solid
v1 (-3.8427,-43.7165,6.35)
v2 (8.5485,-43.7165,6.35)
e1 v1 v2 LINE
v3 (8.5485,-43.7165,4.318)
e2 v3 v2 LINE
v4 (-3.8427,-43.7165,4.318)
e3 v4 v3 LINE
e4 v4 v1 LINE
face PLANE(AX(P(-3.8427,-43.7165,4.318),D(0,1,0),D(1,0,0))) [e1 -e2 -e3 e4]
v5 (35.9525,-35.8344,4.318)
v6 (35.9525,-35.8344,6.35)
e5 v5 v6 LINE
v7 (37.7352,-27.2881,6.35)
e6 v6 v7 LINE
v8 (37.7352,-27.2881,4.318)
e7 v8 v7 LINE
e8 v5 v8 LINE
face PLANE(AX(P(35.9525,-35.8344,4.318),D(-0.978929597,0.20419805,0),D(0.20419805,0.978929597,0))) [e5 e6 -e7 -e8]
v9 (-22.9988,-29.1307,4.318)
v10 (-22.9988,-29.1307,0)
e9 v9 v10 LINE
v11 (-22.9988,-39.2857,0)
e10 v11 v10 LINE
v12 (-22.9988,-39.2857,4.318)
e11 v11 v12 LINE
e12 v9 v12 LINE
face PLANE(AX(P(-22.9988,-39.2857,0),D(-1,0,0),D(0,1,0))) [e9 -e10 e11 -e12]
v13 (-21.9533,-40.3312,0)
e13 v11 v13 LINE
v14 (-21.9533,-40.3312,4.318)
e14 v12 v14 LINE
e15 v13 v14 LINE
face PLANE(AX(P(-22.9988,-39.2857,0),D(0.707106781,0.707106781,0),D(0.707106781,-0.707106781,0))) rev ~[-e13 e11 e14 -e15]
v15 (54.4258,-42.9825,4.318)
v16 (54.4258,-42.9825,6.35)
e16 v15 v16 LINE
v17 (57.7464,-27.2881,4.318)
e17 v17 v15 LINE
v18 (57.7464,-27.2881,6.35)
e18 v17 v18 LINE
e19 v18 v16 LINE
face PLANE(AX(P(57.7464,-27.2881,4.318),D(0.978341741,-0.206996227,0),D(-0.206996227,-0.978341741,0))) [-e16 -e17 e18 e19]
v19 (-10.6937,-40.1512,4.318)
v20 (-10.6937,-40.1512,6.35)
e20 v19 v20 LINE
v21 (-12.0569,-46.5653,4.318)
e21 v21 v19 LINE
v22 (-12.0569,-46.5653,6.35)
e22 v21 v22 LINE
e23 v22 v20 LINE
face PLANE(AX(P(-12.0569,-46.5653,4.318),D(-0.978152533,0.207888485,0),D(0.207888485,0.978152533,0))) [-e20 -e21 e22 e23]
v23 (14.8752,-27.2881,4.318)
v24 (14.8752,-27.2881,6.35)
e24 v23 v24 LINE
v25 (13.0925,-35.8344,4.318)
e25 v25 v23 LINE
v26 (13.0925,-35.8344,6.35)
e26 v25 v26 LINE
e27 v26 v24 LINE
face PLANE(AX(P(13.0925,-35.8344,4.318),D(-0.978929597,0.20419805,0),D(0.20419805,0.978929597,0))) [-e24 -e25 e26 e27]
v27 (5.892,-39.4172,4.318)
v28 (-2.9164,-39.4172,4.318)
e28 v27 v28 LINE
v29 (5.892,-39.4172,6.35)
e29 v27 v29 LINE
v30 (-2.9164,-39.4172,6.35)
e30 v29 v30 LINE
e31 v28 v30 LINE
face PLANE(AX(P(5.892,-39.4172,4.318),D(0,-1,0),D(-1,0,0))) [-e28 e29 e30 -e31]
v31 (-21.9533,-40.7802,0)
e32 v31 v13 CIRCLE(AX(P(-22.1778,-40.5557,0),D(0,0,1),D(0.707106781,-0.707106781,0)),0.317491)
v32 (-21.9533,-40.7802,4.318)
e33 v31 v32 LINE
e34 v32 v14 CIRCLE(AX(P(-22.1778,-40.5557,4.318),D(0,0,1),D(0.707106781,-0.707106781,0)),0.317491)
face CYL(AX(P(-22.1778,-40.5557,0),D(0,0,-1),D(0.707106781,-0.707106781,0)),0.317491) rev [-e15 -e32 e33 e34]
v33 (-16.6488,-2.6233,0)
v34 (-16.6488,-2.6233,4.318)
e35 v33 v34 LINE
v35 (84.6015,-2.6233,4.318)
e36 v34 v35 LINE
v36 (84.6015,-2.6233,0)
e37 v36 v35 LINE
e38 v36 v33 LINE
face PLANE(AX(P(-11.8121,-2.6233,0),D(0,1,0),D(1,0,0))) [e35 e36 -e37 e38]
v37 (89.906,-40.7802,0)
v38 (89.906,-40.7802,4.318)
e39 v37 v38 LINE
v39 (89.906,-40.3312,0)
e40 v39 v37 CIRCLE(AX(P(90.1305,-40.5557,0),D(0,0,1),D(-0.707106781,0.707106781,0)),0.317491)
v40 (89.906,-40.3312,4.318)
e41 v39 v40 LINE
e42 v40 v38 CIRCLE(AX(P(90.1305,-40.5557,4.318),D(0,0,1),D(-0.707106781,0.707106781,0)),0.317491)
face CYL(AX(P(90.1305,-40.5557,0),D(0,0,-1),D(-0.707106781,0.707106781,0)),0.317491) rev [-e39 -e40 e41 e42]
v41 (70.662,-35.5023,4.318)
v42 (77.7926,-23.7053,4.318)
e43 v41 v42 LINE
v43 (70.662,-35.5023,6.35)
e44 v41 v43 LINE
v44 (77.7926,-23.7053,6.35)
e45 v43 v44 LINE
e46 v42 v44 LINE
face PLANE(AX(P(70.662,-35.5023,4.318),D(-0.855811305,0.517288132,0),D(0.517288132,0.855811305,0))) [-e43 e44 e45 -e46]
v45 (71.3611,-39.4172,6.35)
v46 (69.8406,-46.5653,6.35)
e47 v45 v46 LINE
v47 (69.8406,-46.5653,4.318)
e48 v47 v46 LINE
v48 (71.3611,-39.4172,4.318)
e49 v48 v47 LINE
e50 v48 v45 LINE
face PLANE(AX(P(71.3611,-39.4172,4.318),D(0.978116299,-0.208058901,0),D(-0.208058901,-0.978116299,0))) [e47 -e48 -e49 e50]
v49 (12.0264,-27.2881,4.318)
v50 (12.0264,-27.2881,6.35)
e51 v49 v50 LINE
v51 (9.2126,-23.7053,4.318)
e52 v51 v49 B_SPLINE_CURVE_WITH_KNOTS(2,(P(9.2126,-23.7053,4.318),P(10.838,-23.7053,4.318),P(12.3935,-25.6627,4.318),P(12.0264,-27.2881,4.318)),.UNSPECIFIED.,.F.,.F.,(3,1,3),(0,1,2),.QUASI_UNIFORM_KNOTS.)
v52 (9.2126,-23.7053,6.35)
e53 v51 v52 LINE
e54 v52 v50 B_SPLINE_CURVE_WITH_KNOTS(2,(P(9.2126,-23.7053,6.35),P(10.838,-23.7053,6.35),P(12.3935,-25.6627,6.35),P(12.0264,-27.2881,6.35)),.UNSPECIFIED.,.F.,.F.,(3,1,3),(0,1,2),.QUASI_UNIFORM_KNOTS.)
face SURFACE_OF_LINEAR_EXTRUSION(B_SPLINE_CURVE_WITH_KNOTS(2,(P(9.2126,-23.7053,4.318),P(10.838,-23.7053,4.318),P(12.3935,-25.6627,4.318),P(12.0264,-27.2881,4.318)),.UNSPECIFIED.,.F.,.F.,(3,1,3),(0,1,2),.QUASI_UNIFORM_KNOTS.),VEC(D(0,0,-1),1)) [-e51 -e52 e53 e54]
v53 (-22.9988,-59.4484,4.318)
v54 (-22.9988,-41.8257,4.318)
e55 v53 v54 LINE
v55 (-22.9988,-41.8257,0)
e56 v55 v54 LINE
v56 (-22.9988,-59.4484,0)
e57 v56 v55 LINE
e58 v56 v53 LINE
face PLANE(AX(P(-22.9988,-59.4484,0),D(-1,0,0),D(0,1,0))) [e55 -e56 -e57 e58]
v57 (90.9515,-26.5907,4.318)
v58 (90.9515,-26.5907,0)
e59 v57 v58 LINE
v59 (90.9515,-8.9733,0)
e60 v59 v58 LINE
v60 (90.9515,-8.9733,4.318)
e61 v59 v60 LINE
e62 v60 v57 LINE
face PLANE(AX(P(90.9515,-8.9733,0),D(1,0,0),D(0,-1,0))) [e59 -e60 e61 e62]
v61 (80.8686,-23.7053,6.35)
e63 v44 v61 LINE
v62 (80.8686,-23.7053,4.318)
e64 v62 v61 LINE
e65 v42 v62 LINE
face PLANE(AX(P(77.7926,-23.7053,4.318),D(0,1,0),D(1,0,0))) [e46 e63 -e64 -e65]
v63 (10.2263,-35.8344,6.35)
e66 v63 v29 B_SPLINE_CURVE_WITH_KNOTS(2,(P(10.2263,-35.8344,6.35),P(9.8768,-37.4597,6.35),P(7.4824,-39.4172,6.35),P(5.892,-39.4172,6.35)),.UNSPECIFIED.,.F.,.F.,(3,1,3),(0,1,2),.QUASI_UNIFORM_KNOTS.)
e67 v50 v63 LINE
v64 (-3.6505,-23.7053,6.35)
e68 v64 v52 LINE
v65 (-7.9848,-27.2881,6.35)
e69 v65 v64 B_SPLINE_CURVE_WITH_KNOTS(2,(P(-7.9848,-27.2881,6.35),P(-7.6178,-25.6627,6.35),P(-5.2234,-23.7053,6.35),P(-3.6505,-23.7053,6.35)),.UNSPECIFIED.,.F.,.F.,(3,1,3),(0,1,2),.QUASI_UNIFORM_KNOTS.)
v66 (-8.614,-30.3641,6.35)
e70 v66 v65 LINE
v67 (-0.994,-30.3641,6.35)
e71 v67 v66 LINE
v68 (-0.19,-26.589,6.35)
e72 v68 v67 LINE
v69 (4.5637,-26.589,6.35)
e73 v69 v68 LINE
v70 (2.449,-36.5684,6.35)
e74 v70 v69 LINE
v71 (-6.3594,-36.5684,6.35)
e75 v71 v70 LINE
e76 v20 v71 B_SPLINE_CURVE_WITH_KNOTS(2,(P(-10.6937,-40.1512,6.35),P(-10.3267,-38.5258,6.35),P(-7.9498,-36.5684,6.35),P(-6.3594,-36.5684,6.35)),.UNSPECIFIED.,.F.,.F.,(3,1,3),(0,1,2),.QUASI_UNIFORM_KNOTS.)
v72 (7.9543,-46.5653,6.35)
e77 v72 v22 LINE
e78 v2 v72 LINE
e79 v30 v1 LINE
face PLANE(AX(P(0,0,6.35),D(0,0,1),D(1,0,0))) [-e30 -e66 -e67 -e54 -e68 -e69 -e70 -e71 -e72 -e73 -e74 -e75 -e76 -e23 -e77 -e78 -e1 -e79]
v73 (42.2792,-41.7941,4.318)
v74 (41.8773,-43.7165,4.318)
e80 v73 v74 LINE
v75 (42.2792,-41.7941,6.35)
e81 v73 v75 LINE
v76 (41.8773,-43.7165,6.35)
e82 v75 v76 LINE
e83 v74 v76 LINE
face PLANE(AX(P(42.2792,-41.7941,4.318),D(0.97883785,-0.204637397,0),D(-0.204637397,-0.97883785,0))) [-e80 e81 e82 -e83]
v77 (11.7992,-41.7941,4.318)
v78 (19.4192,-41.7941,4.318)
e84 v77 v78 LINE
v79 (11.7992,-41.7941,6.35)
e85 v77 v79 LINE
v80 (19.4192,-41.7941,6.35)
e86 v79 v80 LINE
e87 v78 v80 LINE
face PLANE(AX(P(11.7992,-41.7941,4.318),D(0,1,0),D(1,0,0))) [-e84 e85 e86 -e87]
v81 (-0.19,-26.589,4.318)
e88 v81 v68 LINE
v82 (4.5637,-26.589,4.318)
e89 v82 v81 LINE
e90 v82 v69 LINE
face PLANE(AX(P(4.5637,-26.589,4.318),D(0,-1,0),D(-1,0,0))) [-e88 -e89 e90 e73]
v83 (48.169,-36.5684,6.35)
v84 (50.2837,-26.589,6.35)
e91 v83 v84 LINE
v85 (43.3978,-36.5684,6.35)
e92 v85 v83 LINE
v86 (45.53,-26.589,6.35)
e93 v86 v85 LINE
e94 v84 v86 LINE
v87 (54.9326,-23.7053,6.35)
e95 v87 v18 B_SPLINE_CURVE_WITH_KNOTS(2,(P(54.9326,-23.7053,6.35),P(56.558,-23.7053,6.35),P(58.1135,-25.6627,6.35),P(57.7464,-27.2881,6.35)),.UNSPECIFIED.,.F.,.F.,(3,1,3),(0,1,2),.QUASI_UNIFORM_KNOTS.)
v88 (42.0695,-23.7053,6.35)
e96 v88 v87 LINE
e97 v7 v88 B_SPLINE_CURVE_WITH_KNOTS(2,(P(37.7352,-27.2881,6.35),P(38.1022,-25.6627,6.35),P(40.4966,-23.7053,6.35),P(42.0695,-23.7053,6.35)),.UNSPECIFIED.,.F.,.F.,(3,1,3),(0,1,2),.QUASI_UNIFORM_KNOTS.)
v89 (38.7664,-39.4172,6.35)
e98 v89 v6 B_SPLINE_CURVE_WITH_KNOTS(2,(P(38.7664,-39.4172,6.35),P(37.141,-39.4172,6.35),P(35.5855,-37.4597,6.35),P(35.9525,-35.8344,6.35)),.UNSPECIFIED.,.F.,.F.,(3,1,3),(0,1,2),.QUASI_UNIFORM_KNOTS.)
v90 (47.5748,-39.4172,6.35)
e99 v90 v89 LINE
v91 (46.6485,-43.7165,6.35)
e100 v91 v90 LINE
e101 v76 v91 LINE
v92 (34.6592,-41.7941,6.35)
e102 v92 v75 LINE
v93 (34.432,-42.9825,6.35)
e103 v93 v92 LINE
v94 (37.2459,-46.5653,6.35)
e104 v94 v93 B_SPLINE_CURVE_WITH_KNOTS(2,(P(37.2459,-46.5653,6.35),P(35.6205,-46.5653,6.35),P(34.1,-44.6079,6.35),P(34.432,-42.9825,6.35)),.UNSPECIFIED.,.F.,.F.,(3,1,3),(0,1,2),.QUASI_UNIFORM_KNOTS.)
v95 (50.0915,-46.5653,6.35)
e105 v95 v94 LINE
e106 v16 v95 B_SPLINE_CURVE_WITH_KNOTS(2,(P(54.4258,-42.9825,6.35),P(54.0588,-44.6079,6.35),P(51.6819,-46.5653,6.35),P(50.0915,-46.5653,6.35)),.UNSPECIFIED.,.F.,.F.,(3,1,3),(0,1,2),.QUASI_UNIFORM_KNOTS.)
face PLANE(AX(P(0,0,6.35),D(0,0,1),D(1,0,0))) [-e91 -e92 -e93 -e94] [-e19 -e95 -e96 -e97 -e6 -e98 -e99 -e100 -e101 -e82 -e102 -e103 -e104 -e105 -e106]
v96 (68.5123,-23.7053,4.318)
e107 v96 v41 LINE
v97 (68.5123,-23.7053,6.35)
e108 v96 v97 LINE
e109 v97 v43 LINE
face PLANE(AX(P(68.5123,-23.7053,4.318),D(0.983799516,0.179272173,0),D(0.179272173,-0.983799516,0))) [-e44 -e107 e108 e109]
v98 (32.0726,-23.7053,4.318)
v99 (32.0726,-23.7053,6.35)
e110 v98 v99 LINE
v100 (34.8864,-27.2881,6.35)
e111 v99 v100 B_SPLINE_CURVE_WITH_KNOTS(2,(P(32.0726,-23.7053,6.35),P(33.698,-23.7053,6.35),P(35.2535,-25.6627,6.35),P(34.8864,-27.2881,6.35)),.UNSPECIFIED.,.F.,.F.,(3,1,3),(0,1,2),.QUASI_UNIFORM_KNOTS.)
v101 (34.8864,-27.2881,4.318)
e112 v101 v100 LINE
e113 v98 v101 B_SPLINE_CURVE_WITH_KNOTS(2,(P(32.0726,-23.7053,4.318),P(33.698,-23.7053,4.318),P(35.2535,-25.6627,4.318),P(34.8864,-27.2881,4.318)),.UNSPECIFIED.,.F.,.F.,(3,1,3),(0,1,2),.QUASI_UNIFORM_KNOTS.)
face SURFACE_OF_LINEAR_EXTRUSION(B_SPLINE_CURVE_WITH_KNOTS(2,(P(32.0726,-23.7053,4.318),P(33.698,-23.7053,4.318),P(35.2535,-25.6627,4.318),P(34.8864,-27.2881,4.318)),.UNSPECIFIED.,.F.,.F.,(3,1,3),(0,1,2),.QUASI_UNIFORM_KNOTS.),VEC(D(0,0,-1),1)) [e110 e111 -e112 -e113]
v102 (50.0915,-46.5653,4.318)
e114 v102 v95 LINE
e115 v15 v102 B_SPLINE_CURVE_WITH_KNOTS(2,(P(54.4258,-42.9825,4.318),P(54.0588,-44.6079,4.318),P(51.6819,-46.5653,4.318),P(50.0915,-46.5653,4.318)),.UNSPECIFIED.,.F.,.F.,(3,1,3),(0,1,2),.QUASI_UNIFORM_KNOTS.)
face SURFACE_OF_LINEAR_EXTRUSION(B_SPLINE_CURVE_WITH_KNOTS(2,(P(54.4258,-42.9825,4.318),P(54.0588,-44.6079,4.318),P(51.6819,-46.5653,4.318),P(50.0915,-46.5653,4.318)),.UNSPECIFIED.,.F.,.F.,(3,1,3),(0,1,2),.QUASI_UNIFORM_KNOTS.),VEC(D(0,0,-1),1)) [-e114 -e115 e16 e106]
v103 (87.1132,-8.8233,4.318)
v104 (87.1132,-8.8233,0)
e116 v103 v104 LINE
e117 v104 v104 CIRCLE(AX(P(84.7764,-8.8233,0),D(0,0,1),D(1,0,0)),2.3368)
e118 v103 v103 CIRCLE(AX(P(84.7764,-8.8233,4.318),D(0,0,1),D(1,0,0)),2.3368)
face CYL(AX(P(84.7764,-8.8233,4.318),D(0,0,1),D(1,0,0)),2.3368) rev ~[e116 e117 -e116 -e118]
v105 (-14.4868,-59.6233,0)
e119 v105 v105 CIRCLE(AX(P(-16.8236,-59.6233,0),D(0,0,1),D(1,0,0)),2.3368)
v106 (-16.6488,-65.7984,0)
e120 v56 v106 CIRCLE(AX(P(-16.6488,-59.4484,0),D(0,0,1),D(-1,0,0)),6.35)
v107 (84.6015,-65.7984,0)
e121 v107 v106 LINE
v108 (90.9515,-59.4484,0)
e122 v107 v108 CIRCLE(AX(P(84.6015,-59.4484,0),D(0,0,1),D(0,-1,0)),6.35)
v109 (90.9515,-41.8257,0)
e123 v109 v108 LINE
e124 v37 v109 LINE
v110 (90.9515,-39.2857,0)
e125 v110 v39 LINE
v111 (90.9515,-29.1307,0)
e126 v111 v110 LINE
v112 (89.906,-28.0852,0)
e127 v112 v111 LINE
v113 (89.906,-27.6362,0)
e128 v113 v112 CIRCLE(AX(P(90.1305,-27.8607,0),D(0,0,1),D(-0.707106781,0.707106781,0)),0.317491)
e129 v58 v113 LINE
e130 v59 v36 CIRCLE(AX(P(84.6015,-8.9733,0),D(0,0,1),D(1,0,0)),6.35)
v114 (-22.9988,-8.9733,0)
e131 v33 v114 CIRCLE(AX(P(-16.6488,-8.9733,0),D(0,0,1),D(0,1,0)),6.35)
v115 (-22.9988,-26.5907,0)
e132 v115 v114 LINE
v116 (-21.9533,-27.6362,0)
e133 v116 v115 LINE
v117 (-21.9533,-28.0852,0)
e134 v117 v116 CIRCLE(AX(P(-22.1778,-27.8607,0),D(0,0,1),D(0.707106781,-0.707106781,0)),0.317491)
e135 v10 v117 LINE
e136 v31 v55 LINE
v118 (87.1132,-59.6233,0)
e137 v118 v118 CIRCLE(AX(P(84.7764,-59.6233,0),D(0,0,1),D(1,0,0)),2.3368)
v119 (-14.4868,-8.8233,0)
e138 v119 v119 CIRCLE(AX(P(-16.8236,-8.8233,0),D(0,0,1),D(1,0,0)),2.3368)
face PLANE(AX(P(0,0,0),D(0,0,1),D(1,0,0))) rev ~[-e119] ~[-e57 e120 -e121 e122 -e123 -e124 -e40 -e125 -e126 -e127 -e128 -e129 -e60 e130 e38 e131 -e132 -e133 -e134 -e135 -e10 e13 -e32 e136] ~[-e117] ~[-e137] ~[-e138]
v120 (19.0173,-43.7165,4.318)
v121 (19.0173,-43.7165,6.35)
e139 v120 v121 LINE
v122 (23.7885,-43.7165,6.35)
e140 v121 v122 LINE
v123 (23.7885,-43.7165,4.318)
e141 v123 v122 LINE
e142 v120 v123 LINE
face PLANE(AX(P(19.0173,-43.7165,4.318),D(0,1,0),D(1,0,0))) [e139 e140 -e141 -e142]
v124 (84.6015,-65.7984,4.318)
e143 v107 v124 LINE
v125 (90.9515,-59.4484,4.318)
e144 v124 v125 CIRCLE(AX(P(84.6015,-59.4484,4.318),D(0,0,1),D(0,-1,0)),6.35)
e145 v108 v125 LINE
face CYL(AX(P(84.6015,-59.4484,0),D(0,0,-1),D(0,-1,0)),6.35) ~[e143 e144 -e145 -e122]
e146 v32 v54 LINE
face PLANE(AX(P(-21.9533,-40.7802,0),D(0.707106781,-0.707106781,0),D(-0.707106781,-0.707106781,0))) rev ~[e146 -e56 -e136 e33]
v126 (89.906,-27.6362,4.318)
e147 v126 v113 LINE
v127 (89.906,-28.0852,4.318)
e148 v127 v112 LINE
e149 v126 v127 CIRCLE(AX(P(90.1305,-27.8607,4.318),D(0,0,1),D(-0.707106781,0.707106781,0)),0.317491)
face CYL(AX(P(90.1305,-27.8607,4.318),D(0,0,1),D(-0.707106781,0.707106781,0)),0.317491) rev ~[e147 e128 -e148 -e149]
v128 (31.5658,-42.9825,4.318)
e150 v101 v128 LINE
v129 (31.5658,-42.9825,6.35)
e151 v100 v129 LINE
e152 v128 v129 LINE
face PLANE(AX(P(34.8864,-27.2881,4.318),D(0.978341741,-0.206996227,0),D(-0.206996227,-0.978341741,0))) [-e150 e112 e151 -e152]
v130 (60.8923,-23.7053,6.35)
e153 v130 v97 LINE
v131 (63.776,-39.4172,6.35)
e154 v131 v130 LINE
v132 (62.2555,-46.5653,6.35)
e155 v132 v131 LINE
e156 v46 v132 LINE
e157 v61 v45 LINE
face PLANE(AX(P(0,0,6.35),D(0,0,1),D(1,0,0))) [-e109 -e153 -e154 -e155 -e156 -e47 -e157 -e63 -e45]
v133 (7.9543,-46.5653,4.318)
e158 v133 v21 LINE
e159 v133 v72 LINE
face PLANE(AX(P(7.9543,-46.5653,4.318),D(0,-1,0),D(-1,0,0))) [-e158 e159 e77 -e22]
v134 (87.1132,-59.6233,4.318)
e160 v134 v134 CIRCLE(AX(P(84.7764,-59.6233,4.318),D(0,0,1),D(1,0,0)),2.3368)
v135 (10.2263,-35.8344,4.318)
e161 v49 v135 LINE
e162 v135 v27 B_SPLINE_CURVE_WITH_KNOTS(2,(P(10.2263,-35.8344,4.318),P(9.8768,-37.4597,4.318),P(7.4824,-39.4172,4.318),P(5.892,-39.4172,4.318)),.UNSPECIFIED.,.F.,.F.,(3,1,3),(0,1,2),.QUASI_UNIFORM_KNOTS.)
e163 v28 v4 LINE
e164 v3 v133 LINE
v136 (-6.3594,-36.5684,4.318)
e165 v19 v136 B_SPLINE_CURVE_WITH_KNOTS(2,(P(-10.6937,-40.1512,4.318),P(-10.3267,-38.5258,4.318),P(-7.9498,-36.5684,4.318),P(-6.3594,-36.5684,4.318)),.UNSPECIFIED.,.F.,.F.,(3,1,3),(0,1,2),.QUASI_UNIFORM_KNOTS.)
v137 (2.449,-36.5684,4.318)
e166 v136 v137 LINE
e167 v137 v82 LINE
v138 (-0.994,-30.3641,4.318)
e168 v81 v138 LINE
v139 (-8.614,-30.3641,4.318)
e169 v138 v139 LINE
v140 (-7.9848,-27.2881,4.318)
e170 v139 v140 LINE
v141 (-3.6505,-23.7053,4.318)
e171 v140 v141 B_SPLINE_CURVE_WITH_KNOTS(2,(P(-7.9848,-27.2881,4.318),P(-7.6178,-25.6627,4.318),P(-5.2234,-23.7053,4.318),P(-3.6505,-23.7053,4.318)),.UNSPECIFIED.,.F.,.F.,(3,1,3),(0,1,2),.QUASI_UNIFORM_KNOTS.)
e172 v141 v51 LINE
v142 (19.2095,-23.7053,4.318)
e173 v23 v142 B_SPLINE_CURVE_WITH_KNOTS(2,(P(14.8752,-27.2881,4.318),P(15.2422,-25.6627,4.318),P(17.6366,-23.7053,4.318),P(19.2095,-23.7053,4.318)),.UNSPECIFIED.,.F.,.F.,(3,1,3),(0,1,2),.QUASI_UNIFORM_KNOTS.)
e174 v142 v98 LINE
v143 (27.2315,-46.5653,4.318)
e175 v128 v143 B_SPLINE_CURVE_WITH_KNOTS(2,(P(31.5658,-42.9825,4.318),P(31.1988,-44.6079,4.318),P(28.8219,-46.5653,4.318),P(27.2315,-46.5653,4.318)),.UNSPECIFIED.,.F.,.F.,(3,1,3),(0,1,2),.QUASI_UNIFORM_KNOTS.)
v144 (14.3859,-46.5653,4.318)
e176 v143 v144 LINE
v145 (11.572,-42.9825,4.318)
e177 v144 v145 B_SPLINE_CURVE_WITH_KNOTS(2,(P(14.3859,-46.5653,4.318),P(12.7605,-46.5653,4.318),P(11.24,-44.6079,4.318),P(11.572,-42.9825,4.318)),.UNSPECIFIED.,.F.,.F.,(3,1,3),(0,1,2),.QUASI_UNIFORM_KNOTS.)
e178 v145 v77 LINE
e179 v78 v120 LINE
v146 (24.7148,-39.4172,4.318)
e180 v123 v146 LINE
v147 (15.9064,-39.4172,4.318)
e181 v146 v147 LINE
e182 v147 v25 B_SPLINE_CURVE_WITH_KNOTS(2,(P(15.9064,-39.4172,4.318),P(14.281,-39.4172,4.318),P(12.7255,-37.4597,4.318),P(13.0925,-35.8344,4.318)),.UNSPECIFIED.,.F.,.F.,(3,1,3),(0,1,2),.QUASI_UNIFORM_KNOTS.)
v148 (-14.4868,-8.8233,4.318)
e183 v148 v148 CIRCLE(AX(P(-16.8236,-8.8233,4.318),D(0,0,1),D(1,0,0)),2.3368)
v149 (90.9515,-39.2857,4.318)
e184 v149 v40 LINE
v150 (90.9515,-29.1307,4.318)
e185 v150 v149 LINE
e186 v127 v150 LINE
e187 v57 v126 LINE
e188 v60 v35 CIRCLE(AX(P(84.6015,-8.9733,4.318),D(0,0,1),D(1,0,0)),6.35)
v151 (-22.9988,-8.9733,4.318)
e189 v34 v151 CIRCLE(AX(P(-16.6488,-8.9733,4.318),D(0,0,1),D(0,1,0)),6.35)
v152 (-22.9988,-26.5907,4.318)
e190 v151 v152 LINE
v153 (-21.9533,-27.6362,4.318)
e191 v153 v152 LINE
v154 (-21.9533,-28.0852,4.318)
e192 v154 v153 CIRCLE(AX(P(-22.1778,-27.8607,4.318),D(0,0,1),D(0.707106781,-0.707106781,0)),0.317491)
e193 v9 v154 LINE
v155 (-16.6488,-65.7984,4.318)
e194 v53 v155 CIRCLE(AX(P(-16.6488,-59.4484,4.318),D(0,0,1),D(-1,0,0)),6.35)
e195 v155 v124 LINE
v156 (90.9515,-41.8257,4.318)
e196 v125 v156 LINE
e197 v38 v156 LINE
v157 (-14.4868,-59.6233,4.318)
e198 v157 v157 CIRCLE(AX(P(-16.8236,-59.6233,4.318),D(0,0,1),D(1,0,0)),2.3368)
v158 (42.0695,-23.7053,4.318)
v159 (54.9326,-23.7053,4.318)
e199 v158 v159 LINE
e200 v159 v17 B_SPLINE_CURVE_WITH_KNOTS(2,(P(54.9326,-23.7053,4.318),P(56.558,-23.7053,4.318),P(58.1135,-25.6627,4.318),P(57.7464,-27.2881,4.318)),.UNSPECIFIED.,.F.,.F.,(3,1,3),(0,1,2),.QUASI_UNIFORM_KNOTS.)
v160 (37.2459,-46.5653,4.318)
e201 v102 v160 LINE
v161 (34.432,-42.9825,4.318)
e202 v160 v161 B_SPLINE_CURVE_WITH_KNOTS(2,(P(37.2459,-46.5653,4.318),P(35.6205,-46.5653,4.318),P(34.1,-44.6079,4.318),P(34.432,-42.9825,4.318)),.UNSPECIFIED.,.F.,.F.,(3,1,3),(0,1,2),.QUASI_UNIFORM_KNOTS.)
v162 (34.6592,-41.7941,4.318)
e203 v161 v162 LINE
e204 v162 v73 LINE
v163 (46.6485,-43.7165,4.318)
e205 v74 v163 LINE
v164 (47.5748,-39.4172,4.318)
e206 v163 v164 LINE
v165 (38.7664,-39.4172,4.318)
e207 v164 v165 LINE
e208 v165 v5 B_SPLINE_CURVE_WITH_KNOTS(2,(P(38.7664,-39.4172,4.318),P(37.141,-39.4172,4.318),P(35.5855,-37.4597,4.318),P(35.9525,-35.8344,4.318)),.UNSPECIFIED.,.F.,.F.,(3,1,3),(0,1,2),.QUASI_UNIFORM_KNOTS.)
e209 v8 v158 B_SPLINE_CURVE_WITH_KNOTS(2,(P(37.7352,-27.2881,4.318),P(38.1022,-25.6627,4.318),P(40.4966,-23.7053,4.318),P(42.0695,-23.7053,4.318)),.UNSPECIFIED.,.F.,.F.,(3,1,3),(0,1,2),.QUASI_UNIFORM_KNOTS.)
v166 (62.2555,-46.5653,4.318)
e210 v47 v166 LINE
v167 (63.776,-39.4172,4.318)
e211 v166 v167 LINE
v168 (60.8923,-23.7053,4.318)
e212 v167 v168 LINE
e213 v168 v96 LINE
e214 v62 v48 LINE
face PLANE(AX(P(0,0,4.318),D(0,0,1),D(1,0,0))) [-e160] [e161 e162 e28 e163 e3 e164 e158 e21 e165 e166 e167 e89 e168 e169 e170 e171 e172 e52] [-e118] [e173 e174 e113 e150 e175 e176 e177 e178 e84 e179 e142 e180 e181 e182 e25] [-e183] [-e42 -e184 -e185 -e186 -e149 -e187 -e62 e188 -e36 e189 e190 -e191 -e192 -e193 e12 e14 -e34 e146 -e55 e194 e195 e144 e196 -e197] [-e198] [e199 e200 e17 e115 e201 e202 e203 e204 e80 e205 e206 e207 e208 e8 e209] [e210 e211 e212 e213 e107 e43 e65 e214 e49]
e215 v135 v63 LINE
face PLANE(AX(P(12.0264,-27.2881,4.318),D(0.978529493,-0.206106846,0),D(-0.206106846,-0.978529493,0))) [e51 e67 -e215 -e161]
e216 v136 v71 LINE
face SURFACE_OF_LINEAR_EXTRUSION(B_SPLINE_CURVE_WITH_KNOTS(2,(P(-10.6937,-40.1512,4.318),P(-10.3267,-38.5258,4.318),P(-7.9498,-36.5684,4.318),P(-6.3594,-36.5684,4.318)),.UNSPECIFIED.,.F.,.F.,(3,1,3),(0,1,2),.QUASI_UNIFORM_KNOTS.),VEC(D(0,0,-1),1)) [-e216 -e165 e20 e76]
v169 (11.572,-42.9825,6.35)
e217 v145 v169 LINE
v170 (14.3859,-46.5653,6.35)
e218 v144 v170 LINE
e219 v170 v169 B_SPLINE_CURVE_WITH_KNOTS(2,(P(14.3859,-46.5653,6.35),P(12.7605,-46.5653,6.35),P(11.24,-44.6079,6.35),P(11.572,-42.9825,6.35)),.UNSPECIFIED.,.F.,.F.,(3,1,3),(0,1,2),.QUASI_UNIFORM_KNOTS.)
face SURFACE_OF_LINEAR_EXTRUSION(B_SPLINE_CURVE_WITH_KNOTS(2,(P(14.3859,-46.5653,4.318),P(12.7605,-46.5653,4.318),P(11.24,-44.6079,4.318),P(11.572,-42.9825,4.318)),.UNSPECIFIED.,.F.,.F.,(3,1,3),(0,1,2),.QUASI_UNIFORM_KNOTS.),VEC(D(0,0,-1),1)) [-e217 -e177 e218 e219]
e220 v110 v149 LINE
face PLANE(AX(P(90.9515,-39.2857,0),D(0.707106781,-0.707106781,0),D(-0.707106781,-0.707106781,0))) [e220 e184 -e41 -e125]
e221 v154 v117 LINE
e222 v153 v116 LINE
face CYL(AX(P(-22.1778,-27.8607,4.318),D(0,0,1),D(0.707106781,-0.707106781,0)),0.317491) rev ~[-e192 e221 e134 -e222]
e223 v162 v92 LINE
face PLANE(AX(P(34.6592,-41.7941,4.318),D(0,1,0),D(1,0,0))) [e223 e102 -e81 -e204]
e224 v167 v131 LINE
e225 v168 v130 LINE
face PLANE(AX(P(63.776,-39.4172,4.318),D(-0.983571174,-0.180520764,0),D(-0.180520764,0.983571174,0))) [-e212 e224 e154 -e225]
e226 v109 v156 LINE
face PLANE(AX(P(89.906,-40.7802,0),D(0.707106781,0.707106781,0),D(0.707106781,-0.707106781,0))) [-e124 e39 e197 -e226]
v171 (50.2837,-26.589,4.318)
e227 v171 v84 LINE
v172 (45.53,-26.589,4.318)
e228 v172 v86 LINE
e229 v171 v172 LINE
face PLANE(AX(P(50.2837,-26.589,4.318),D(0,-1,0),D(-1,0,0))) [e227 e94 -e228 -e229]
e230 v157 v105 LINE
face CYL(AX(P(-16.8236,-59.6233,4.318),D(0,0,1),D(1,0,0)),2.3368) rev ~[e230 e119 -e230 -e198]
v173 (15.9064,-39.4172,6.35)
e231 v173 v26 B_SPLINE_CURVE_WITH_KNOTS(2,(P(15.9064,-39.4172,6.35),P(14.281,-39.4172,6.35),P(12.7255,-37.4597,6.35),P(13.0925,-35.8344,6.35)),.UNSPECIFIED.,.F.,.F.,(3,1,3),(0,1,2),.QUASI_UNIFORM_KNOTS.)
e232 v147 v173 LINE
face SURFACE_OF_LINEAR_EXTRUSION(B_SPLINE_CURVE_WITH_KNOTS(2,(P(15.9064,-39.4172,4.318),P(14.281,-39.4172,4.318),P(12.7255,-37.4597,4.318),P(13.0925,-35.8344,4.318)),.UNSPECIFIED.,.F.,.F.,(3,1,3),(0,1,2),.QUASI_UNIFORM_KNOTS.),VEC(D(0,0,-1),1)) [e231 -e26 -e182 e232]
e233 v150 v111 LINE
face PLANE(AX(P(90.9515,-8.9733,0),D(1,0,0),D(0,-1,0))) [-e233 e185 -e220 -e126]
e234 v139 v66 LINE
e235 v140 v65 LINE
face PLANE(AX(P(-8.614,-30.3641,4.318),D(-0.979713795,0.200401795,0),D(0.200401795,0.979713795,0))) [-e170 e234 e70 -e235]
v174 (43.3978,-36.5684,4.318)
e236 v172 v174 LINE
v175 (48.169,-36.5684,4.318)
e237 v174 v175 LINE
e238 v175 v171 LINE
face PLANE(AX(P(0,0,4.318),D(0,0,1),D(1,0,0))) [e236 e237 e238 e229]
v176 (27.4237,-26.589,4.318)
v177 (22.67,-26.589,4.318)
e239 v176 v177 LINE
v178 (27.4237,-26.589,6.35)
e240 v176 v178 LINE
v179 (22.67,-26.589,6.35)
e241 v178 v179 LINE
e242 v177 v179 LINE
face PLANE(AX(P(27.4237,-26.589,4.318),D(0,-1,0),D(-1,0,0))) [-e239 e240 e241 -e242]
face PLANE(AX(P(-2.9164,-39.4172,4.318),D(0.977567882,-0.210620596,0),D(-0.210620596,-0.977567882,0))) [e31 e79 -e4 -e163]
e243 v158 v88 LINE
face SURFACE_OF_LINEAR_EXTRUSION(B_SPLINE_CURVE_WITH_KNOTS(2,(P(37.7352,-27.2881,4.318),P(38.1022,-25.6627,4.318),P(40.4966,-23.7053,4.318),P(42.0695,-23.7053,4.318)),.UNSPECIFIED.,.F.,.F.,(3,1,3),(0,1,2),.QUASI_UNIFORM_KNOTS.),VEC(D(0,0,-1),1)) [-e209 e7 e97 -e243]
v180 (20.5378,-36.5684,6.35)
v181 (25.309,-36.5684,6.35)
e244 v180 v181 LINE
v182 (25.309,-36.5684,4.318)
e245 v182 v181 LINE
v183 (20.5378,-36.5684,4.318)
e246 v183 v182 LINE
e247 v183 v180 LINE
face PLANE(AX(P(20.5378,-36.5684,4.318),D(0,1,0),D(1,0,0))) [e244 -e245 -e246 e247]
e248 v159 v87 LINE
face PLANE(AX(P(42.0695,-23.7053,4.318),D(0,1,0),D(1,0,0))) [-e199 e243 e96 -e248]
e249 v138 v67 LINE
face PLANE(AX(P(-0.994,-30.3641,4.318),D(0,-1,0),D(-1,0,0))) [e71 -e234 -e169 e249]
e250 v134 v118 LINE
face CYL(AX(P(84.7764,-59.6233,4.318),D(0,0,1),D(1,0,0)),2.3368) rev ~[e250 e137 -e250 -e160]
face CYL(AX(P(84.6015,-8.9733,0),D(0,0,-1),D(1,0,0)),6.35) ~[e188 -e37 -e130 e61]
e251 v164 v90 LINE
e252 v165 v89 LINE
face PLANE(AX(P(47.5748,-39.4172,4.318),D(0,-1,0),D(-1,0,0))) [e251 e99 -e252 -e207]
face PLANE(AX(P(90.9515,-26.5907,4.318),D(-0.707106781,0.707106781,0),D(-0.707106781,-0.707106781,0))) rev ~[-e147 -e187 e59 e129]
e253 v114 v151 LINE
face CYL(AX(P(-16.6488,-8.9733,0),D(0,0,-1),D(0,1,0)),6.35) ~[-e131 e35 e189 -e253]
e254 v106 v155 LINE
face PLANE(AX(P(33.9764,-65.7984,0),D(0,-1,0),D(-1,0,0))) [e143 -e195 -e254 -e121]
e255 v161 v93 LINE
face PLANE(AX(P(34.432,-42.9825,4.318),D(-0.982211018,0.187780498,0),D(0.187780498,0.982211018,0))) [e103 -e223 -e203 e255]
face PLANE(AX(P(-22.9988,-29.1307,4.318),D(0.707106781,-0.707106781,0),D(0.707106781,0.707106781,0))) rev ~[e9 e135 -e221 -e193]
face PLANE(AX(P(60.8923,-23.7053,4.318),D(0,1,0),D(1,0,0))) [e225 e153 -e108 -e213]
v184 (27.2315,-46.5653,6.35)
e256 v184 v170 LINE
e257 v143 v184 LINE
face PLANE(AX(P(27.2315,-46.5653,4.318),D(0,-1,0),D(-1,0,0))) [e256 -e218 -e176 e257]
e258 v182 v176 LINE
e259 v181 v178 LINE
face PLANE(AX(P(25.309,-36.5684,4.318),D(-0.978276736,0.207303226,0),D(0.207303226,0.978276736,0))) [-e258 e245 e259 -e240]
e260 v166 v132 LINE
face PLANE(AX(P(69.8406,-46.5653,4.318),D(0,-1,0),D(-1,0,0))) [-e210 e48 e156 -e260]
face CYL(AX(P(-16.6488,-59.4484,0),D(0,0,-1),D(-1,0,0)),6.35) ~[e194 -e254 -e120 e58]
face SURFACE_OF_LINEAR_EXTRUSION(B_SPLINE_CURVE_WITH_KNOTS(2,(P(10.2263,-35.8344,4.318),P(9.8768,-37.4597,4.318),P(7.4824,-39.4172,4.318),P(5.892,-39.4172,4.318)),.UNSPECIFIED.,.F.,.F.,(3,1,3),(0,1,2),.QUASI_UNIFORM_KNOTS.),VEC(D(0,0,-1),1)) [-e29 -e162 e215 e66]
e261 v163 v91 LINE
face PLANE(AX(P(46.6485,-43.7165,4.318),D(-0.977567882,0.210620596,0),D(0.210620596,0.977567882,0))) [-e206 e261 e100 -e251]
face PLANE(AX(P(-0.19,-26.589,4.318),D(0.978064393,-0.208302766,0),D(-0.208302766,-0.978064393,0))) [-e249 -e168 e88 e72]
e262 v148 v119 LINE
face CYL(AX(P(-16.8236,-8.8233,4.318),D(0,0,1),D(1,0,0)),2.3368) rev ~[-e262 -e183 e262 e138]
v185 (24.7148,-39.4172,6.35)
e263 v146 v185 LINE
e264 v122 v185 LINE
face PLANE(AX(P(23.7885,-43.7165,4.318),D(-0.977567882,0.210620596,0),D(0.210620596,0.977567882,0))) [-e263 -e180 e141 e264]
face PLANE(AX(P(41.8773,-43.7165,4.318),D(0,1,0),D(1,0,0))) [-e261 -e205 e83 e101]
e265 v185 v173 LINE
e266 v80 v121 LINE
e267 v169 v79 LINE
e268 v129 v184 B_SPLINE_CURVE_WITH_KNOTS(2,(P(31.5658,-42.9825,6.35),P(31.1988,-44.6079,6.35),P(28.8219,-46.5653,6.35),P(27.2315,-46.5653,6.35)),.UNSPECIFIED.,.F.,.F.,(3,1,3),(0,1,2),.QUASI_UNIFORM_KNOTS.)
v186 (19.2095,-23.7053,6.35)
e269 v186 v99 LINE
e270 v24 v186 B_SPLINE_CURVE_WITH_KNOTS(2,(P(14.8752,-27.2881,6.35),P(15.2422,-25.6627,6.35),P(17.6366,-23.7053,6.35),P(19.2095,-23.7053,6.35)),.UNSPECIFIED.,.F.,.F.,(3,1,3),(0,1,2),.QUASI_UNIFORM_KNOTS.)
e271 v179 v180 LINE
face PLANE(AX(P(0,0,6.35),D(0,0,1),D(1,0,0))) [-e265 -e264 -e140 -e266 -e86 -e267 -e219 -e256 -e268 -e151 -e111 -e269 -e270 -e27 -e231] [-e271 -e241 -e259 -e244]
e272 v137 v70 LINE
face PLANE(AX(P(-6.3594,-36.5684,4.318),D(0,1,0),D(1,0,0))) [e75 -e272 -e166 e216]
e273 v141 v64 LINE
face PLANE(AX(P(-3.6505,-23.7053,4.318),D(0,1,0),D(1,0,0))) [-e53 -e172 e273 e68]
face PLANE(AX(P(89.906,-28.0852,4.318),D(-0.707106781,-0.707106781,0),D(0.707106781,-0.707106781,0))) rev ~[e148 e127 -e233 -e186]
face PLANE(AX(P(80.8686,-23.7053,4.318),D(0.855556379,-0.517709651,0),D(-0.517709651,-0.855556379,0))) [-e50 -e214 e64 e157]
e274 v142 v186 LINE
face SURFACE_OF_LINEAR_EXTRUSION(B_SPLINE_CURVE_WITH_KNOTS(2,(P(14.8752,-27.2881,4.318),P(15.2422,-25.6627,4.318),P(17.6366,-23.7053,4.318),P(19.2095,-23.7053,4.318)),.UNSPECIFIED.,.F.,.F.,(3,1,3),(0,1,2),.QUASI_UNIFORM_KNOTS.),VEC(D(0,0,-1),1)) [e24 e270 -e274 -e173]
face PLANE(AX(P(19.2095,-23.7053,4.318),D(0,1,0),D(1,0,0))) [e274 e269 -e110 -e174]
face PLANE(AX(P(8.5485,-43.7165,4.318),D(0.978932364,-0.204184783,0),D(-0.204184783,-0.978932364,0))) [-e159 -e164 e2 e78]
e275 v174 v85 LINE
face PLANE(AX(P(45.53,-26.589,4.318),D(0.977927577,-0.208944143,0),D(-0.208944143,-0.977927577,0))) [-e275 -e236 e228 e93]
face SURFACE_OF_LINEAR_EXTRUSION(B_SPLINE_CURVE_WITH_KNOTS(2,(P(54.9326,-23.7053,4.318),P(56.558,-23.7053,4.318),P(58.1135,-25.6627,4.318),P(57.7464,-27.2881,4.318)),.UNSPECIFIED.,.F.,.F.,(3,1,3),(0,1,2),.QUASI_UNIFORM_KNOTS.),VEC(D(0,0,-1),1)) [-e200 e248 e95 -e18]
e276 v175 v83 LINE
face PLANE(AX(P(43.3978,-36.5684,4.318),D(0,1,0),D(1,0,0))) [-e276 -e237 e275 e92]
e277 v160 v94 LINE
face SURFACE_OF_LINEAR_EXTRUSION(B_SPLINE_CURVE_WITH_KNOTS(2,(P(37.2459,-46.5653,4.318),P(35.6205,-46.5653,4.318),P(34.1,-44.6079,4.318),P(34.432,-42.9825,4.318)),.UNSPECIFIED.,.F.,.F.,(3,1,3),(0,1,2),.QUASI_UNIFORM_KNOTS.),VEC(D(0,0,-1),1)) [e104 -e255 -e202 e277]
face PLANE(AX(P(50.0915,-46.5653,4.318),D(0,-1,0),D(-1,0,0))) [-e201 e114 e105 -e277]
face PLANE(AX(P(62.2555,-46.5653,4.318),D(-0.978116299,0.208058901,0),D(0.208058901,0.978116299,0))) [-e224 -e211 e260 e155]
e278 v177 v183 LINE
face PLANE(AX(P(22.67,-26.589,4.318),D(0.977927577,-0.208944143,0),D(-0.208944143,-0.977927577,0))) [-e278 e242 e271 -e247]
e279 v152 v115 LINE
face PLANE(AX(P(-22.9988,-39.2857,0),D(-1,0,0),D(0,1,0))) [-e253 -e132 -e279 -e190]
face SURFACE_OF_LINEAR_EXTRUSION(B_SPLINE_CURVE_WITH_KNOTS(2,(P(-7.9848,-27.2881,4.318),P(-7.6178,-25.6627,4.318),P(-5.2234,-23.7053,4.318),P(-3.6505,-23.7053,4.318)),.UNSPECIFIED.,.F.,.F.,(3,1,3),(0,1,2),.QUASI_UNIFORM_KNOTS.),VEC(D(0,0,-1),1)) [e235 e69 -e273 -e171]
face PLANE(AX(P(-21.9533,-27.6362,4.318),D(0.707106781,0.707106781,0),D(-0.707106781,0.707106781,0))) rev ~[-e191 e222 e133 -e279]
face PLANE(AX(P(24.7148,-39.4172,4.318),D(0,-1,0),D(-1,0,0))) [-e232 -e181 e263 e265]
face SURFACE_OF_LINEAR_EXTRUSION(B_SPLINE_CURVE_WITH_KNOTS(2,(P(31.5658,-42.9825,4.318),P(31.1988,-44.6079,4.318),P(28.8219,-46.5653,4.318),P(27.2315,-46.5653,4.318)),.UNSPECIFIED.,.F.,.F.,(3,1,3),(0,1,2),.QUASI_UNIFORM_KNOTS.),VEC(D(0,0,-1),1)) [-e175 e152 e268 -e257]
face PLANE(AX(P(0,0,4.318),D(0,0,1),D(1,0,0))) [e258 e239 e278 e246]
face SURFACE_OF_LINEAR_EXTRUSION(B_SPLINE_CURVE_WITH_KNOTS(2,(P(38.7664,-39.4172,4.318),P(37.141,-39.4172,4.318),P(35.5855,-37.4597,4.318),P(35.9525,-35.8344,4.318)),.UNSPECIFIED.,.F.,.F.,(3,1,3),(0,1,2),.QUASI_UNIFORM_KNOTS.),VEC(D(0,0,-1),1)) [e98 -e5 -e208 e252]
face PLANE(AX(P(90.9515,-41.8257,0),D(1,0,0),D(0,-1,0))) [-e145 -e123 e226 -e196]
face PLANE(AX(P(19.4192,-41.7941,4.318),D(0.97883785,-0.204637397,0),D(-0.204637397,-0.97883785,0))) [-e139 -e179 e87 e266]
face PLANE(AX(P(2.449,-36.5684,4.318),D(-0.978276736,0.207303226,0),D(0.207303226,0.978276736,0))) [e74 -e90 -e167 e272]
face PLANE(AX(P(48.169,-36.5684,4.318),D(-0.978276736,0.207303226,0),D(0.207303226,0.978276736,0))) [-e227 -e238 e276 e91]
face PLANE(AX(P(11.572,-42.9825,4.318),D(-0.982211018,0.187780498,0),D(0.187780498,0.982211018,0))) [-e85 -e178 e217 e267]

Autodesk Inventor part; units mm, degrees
ref_plane "YZ Plane" through (0, 0, 0) normal (1, 0, 0) x (0, 1, 0)
ref_plane "XZ Plane" through (0, 0, 0) normal (0, 1, 0) x (-1, 0, 0)
ref_plane "XY Plane" through (0, 0, 0) normal (0, 0, 1) x (1, 0, 0)
sketch "Sketch1" plane through (0, 0, 0) normal (0, 0, 1) x (1, 0, 0)
  circle A0 centre (-16.8236, -8.8233) radius 2.1 projected
  circle A1 centre (84.7764, -8.8233) radius 2.1 projected
  circle A2 centre (84.7764, -59.6233) radius 2.1 projected
  circle A3 centre (-16.8236, -59.6233) radius 2.1 projected
  line L0 (-11.8121, -2.6233) -> (-16.8236, -2.6233) projected
  line L1 (84.7764, -65.7984) -> (79.7648, -65.7984) projected
  line L2 (90.9515, -41.9118) -> (90.9515, -51.9348) projected
  line L3 (-22.9988, -26.5348) -> (-22.9988, -16.5118) projected
  line L4 (-16.6488, -2.6233) -> (84.6015, -2.6233)
  line L5 (90.9515, -8.9733) -> (90.9515, -59.4484)
  line L6 (84.6015, -65.7984) -> (-16.6488, -65.7984)
  line L7 (-22.9988, -59.4484) -> (-22.9988, -8.9733)
  arc A4 (-16.6488, -2.6233) -> (-22.9988, -8.9733) centre (-16.6488, -8.9733) ccw
  arc A5 (-22.9988, -59.4484) -> (-16.6488, -65.7984) centre (-16.6488, -59.4484) ccw
  arc A6 (84.6015, -65.7984) -> (90.9515, -59.4484) centre (84.6015, -59.4484) ccw
  arc A7 (90.9515, -8.9733) -> (84.6015, -2.6233) centre (84.6015, -8.9733) ccw
  line L8 (-22.9988, -39.2857) -> (-21.9533, -40.3312)
  line L9 (-21.9533, -40.7802) -> (-22.9988, -41.8257)
  arc A8 (-21.9533, -40.7802) -> (-21.9533, -40.3312) centre (-22.1778, -40.5557) ccw
  line L10 (33.9764, -2.6233) -> (33.9764, -65.7984)
  line L11 (90.9515, -39.2857) -> (89.906, -40.3312)
  line L12 (89.906, -40.7802) -> (90.9515, -41.8257)
  arc A9 (89.906, -40.3312) -> (89.906, -40.7802) centre (90.1305, -40.5557) ccw
  point P0 (0, 0)
  point P1 (-22.9988, -2.6233)
  point P2 (90.9515, -65.7984)
  point P3 (90.9515, -2.6233)
  point P4 (-21.7288, -40.5557)
  dimension "d0" = 113.9502
  dimension "d1" = 63.1751
  dimension "d2" = 6.35
  dimension "d3" = 1.27
  dimension "d4" = 1.27
  dimension "d5" = 0.3175
extrude "Extrusion1" add sketch "Sketch1" along normal blind 4.318 contours L4 L10 L6 A5 L7 L9 A8 L8 L3 A4 L0 | L4 A7 L5 L11 A9 L12 L2 A6 L1 L6 L10
sketch "Sketch2" plane through (0, 0, 4.318) normal (0, 0, 1) x (1, 0, 0)
  point P0 (0, 0)
sketch "Sketch3" plane through (0, 0, 4.318) normal (0, 0, 1) x (1, 0, 0)
  line L0 (-11.0608, -23.7053) -> (-1.734, -23.7053) construction
  line L1 (-1.734, -23.7053) -> (-1.734, -28.4261) construction
  line L2 (-1.734, -28.4261) -> (-11.0608, -28.4261) construction
  line L3 (-11.0608, -28.4261) -> (-11.0608, -23.7053) construction
  line L4 (84.6015, -2.6233) -> (-16.6488, -2.6233) construction
  line L5 (33.9764, -2.6233) -> (33.9764, -66.312) construction
  line L6 (-22.9988, -8.9733) -> (-22.9988, -39.2857) construction
  line L7 (-22.9988, -34.4676) -> (90.982, -34.4676) construction
  line L8 (-3.8427, -43.7165) -> (8.5485, -43.7165)
  line L9 (8.5485, -43.7165) -> (7.9543, -46.5653)
  line L10 (7.9543, -46.5653) -> (-12.0569, -46.5653)
  line L11 (-12.0569, -46.5653) -> (-10.6937, -40.1512)
  spline S0 degree 2 poles (-10.6937, -40.1512) (-10.3267, -38.5258) (-7.9498, -36.5684) (-6.3594, -36.5684) knots 0 0 0 1 2 2 2
  line L12 (-6.3594, -36.5684) -> (2.449, -36.5684)
  line L13 (2.449, -36.5684) -> (4.5637, -26.589)
  line L14 (4.5637, -26.589) -> (-0.19, -26.589)
  line L15 (-0.19, -26.589) -> (-0.994, -30.3641)
  line L16 (-0.994, -30.3641) -> (-8.614, -30.3641)
  line L17 (-8.614, -30.3641) -> (-7.9848, -27.2881)
  spline S1 degree 2 poles (-7.9848, -27.2881) (-7.6178, -25.6627) (-5.2234, -23.7053) (-3.6505, -23.7053) knots 0 0 0 1 2 2 2
  line L18 (-3.6505, -23.7053) -> (9.2126, -23.7053)
  spline S2 degree 2 poles (9.2126, -23.7053) (10.838, -23.7053) (12.3935, -25.6627) (12.0264, -27.2881) knots 0 0 0 1 2 2 2
  line L19 (12.0264, -27.2881) -> (10.2263, -35.8344)
  spline S3 degree 2 poles (10.2263, -35.8344) (9.8768, -37.4597) (7.4824, -39.4172) (5.892, -39.4172) knots 0 0 0 1 2 2 2
  line L20 (5.892, -39.4172) -> (-2.9164, -39.4172)
  line L21 (-2.9164, -39.4172) -> (-3.8427, -43.7165)
  spline S4 degree 2 poles (14.8752, -27.2881) (15.2422, -25.6627) (17.6366, -23.7053) (19.2095, -23.7053) knots 0 0 0 1 2 2 2
  line L22 (19.2095, -23.7053) -> (32.0726, -23.7053)
  spline S5 degree 2 poles (32.0726, -23.7053) (33.698, -23.7053) (35.2535, -25.6627) (34.8864, -27.2881) knots 0 0 0 1 2 2 2
  line L23 (34.8864, -27.2881) -> (31.5658, -42.9825)
  spline S6 degree 2 poles (31.5658, -42.9825) (31.1988, -44.6079) (28.8219, -46.5653) (27.2315, -46.5653) knots 0 0 0 1 2 2 2
  line L24 (27.2315, -46.5653) -> (14.3859, -46.5653)
  spline S7 degree 2 poles (14.3859, -46.5653) (12.7605, -46.5653) (11.24, -44.6079) (11.572, -42.9825) knots 0 0 0 1 2 2 2
  line L25 (11.572, -42.9825) -> (11.7992, -41.7941)
  line L26 (11.7992, -41.7941) -> (19.4192, -41.7941)
  line L27 (19.4192, -41.7941) -> (19.0173, -43.7165)
  line L28 (19.0173, -43.7165) -> (23.7885, -43.7165)
  line L29 (23.7885, -43.7165) -> (24.7148, -39.4172)
  line L30 (24.7148, -39.4172) -> (15.9064, -39.4172)
  spline S8 degree 2 poles (15.9064, -39.4172) (14.281, -39.4172) (12.7255, -37.4597) (13.0925, -35.8344) knots 0 0 0 1 2 2 2
  line L31 (13.0925, -35.8344) -> (14.8752, -27.2881)
  line L32 (22.67, -26.589) -> (20.5378, -36.5684)
  line L33 (20.5378, -36.5684) -> (25.309, -36.5684)
  line L34 (25.309, -36.5684) -> (27.4237, -26.589)
  line L35 (27.4237, -26.589) -> (22.67, -26.589)
  spline S9 degree 2 poles (37.7352, -27.2881) (38.1022, -25.6627) (40.4966, -23.7053) (42.0695, -23.7053) knots 0 0 0 1 2 2 2
  line L36 (42.0695, -23.7053) -> (54.9326, -23.7053)
  spline S10 degree 2 poles (54.9326, -23.7053) (56.558, -23.7053) (58.1135, -25.6627) (57.7464, -27.2881) knots 0 0 0 1 2 2 2
  line L37 (57.7464, -27.2881) -> (54.4258, -42.9825)
  spline S11 degree 2 poles (54.4258, -42.9825) (54.0588, -44.6079) (51.6819, -46.5653) (50.0915, -46.5653) knots 0 0 0 1 2 2 2
  line L38 (50.0915, -46.5653) -> (37.2459, -46.5653)
  spline S12 degree 2 poles (37.2459, -46.5653) (35.6205, -46.5653) (34.1, -44.6079) (34.432, -42.9825) knots 0 0 0 1 2 2 2
  line L39 (34.432, -42.9825) -> (34.6592, -41.7941)
  line L40 (34.6592, -41.7941) -> (42.2792, -41.7941)
  line L41 (42.2792, -41.7941) -> (41.8773, -43.7165)
  line L42 (41.8773, -43.7165) -> (46.6485, -43.7165)
  line L43 (46.6485, -43.7165) -> (47.5748, -39.4172)
  line L44 (47.5748, -39.4172) -> (38.7664, -39.4172)
  spline S13 degree 2 poles (38.7664, -39.4172) (37.141, -39.4172) (35.5855, -37.4597) (35.9525, -35.8344) knots 0 0 0 1 2 2 2
  line L45 (35.9525, -35.8344) -> (37.7352, -27.2881)
  line L46 (45.53, -26.589) -> (43.3978, -36.5684)
  line L47 (43.3978, -36.5684) -> (48.169, -36.5684)
  line L48 (48.169, -36.5684) -> (50.2837, -26.589)
  line L49 (50.2837, -26.589) -> (45.53, -26.589)
  line L50 (71.3611, -39.4172) -> (69.8406, -46.5653)
  line L51 (69.8406, -46.5653) -> (62.2555, -46.5653)
  line L52 (62.2555, -46.5653) -> (63.776, -39.4172)
  line L53 (63.776, -39.4172) -> (60.8923, -23.7053)
  line L54 (60.8923, -23.7053) -> (68.5123, -23.7053)
  line L55 (68.5123, -23.7053) -> (70.662, -35.5023)
  line L56 (70.662, -35.5023) -> (77.7926, -23.7053)
  line L57 (77.7926, -23.7053) -> (80.8686, -23.7053)
  line L58 (80.8686, -23.7053) -> (71.3611, -39.4172)
  point P0 (0, 0)
  point P1 (-11.0608, -26.0657)
  dimension "d8" = 11.938
  dimension "d11" = 21.082
extrude "Extrusion3" add sketch "Sketch3" along normal blind 2.032
sketch "Sketch4" plane through (0, 0, 4.318) normal (0, 0, 1) x (1, 0, 0)
  line L0 (-22.9988, -39.2857) -> (-21.9533, -40.3312) projected
  line L1 (-21.9533, -40.7802) -> (-22.9988, -41.8257) projected
  arc A0 (-21.9533, -40.7802) -> (-21.9533, -40.3312) centre (-22.1778, -40.5557) ccw projected
  line L2 (90.9515, -41.8257) -> (89.906, -40.7802) projected
  arc A1 (89.906, -40.3312) -> (89.906, -40.7802) centre (90.1305, -40.5557) ccw projected
  line L3 (89.906, -40.3312) -> (90.9515, -39.2857) projected
  line L4 (-22.9988, -8.9733) -> (-22.9988, -39.2857) construction
  line L5 (-22.9988, -34.2082) -> (90.9515, -34.2082) construction
  line L6 (90.9515, -39.2857) -> (90.9515, -8.9733) construction
  line L7 (84.6015, -2.6233) -> (-16.6488, -2.6233) construction
  line L8 (-22.9988, -29.1307) -> (-21.9533, -28.0852)
  line L9 (-21.9533, -27.6362) -> (-22.9988, -26.5907)
  arc A2 (-21.9533, -28.0852) -> (-21.9533, -27.6362) centre (-22.1778, -27.8607) ccw
  line L10 (90.9515, -26.5907) -> (89.906, -27.6362)
  arc A3 (89.906, -27.6362) -> (89.906, -28.0852) centre (90.1305, -27.8607) ccw
  line L11 (89.906, -28.0852) -> (90.9515, -29.1307)
  line L12 (90.9515, -26.5907) -> (90.9515, -29.1307) construction
  line L13 (-22.9988, -26.5907) -> (-22.9988, -29.1307) construction
  line L14 (-22.9988, -26.5907) -> (-22.9988, -29.1307)
  line L15 (90.9515, -26.5907) -> (90.9515, -29.1307)
  point P0 (0, 0)
  dimension "d14" = 31.5849
extrude "Extrusion4" cut sketch "Sketch4" against normal through all
sketch "Sketch5" plane through (0, 0, 4.318) normal (0, 0, 1) x (1, 0, 0)
  circle A0 centre (-16.8236, -8.8233) radius 2.1 projected
  circle A1 centre (-16.8236, -8.8233) radius 2.3368
  circle A2 centre (84.7764, -8.8233) radius 2.1 projected
  circle A3 centre (84.7764, -59.6233) radius 2.1 projected
  circle A4 centre (-16.8236, -59.6233) radius 2.1 projected
  circle A5 centre (84.7764, -8.8233) radius 2.3368
  circle A6 centre (84.7764, -59.6233) radius 2.3368
  circle A7 centre (-16.8236, -59.6233) radius 2.3368
  point P0 (0, 0)
  dimension "d17" = 4.6736
  dimension "d18" = 4.6736
  dimension "d19" = 4.6736
  dimension "d20" = 4.6736
extrude "Extrusion5" cut sketch "Sketch5" against normal blind 25.4
properties part number "299Y"
